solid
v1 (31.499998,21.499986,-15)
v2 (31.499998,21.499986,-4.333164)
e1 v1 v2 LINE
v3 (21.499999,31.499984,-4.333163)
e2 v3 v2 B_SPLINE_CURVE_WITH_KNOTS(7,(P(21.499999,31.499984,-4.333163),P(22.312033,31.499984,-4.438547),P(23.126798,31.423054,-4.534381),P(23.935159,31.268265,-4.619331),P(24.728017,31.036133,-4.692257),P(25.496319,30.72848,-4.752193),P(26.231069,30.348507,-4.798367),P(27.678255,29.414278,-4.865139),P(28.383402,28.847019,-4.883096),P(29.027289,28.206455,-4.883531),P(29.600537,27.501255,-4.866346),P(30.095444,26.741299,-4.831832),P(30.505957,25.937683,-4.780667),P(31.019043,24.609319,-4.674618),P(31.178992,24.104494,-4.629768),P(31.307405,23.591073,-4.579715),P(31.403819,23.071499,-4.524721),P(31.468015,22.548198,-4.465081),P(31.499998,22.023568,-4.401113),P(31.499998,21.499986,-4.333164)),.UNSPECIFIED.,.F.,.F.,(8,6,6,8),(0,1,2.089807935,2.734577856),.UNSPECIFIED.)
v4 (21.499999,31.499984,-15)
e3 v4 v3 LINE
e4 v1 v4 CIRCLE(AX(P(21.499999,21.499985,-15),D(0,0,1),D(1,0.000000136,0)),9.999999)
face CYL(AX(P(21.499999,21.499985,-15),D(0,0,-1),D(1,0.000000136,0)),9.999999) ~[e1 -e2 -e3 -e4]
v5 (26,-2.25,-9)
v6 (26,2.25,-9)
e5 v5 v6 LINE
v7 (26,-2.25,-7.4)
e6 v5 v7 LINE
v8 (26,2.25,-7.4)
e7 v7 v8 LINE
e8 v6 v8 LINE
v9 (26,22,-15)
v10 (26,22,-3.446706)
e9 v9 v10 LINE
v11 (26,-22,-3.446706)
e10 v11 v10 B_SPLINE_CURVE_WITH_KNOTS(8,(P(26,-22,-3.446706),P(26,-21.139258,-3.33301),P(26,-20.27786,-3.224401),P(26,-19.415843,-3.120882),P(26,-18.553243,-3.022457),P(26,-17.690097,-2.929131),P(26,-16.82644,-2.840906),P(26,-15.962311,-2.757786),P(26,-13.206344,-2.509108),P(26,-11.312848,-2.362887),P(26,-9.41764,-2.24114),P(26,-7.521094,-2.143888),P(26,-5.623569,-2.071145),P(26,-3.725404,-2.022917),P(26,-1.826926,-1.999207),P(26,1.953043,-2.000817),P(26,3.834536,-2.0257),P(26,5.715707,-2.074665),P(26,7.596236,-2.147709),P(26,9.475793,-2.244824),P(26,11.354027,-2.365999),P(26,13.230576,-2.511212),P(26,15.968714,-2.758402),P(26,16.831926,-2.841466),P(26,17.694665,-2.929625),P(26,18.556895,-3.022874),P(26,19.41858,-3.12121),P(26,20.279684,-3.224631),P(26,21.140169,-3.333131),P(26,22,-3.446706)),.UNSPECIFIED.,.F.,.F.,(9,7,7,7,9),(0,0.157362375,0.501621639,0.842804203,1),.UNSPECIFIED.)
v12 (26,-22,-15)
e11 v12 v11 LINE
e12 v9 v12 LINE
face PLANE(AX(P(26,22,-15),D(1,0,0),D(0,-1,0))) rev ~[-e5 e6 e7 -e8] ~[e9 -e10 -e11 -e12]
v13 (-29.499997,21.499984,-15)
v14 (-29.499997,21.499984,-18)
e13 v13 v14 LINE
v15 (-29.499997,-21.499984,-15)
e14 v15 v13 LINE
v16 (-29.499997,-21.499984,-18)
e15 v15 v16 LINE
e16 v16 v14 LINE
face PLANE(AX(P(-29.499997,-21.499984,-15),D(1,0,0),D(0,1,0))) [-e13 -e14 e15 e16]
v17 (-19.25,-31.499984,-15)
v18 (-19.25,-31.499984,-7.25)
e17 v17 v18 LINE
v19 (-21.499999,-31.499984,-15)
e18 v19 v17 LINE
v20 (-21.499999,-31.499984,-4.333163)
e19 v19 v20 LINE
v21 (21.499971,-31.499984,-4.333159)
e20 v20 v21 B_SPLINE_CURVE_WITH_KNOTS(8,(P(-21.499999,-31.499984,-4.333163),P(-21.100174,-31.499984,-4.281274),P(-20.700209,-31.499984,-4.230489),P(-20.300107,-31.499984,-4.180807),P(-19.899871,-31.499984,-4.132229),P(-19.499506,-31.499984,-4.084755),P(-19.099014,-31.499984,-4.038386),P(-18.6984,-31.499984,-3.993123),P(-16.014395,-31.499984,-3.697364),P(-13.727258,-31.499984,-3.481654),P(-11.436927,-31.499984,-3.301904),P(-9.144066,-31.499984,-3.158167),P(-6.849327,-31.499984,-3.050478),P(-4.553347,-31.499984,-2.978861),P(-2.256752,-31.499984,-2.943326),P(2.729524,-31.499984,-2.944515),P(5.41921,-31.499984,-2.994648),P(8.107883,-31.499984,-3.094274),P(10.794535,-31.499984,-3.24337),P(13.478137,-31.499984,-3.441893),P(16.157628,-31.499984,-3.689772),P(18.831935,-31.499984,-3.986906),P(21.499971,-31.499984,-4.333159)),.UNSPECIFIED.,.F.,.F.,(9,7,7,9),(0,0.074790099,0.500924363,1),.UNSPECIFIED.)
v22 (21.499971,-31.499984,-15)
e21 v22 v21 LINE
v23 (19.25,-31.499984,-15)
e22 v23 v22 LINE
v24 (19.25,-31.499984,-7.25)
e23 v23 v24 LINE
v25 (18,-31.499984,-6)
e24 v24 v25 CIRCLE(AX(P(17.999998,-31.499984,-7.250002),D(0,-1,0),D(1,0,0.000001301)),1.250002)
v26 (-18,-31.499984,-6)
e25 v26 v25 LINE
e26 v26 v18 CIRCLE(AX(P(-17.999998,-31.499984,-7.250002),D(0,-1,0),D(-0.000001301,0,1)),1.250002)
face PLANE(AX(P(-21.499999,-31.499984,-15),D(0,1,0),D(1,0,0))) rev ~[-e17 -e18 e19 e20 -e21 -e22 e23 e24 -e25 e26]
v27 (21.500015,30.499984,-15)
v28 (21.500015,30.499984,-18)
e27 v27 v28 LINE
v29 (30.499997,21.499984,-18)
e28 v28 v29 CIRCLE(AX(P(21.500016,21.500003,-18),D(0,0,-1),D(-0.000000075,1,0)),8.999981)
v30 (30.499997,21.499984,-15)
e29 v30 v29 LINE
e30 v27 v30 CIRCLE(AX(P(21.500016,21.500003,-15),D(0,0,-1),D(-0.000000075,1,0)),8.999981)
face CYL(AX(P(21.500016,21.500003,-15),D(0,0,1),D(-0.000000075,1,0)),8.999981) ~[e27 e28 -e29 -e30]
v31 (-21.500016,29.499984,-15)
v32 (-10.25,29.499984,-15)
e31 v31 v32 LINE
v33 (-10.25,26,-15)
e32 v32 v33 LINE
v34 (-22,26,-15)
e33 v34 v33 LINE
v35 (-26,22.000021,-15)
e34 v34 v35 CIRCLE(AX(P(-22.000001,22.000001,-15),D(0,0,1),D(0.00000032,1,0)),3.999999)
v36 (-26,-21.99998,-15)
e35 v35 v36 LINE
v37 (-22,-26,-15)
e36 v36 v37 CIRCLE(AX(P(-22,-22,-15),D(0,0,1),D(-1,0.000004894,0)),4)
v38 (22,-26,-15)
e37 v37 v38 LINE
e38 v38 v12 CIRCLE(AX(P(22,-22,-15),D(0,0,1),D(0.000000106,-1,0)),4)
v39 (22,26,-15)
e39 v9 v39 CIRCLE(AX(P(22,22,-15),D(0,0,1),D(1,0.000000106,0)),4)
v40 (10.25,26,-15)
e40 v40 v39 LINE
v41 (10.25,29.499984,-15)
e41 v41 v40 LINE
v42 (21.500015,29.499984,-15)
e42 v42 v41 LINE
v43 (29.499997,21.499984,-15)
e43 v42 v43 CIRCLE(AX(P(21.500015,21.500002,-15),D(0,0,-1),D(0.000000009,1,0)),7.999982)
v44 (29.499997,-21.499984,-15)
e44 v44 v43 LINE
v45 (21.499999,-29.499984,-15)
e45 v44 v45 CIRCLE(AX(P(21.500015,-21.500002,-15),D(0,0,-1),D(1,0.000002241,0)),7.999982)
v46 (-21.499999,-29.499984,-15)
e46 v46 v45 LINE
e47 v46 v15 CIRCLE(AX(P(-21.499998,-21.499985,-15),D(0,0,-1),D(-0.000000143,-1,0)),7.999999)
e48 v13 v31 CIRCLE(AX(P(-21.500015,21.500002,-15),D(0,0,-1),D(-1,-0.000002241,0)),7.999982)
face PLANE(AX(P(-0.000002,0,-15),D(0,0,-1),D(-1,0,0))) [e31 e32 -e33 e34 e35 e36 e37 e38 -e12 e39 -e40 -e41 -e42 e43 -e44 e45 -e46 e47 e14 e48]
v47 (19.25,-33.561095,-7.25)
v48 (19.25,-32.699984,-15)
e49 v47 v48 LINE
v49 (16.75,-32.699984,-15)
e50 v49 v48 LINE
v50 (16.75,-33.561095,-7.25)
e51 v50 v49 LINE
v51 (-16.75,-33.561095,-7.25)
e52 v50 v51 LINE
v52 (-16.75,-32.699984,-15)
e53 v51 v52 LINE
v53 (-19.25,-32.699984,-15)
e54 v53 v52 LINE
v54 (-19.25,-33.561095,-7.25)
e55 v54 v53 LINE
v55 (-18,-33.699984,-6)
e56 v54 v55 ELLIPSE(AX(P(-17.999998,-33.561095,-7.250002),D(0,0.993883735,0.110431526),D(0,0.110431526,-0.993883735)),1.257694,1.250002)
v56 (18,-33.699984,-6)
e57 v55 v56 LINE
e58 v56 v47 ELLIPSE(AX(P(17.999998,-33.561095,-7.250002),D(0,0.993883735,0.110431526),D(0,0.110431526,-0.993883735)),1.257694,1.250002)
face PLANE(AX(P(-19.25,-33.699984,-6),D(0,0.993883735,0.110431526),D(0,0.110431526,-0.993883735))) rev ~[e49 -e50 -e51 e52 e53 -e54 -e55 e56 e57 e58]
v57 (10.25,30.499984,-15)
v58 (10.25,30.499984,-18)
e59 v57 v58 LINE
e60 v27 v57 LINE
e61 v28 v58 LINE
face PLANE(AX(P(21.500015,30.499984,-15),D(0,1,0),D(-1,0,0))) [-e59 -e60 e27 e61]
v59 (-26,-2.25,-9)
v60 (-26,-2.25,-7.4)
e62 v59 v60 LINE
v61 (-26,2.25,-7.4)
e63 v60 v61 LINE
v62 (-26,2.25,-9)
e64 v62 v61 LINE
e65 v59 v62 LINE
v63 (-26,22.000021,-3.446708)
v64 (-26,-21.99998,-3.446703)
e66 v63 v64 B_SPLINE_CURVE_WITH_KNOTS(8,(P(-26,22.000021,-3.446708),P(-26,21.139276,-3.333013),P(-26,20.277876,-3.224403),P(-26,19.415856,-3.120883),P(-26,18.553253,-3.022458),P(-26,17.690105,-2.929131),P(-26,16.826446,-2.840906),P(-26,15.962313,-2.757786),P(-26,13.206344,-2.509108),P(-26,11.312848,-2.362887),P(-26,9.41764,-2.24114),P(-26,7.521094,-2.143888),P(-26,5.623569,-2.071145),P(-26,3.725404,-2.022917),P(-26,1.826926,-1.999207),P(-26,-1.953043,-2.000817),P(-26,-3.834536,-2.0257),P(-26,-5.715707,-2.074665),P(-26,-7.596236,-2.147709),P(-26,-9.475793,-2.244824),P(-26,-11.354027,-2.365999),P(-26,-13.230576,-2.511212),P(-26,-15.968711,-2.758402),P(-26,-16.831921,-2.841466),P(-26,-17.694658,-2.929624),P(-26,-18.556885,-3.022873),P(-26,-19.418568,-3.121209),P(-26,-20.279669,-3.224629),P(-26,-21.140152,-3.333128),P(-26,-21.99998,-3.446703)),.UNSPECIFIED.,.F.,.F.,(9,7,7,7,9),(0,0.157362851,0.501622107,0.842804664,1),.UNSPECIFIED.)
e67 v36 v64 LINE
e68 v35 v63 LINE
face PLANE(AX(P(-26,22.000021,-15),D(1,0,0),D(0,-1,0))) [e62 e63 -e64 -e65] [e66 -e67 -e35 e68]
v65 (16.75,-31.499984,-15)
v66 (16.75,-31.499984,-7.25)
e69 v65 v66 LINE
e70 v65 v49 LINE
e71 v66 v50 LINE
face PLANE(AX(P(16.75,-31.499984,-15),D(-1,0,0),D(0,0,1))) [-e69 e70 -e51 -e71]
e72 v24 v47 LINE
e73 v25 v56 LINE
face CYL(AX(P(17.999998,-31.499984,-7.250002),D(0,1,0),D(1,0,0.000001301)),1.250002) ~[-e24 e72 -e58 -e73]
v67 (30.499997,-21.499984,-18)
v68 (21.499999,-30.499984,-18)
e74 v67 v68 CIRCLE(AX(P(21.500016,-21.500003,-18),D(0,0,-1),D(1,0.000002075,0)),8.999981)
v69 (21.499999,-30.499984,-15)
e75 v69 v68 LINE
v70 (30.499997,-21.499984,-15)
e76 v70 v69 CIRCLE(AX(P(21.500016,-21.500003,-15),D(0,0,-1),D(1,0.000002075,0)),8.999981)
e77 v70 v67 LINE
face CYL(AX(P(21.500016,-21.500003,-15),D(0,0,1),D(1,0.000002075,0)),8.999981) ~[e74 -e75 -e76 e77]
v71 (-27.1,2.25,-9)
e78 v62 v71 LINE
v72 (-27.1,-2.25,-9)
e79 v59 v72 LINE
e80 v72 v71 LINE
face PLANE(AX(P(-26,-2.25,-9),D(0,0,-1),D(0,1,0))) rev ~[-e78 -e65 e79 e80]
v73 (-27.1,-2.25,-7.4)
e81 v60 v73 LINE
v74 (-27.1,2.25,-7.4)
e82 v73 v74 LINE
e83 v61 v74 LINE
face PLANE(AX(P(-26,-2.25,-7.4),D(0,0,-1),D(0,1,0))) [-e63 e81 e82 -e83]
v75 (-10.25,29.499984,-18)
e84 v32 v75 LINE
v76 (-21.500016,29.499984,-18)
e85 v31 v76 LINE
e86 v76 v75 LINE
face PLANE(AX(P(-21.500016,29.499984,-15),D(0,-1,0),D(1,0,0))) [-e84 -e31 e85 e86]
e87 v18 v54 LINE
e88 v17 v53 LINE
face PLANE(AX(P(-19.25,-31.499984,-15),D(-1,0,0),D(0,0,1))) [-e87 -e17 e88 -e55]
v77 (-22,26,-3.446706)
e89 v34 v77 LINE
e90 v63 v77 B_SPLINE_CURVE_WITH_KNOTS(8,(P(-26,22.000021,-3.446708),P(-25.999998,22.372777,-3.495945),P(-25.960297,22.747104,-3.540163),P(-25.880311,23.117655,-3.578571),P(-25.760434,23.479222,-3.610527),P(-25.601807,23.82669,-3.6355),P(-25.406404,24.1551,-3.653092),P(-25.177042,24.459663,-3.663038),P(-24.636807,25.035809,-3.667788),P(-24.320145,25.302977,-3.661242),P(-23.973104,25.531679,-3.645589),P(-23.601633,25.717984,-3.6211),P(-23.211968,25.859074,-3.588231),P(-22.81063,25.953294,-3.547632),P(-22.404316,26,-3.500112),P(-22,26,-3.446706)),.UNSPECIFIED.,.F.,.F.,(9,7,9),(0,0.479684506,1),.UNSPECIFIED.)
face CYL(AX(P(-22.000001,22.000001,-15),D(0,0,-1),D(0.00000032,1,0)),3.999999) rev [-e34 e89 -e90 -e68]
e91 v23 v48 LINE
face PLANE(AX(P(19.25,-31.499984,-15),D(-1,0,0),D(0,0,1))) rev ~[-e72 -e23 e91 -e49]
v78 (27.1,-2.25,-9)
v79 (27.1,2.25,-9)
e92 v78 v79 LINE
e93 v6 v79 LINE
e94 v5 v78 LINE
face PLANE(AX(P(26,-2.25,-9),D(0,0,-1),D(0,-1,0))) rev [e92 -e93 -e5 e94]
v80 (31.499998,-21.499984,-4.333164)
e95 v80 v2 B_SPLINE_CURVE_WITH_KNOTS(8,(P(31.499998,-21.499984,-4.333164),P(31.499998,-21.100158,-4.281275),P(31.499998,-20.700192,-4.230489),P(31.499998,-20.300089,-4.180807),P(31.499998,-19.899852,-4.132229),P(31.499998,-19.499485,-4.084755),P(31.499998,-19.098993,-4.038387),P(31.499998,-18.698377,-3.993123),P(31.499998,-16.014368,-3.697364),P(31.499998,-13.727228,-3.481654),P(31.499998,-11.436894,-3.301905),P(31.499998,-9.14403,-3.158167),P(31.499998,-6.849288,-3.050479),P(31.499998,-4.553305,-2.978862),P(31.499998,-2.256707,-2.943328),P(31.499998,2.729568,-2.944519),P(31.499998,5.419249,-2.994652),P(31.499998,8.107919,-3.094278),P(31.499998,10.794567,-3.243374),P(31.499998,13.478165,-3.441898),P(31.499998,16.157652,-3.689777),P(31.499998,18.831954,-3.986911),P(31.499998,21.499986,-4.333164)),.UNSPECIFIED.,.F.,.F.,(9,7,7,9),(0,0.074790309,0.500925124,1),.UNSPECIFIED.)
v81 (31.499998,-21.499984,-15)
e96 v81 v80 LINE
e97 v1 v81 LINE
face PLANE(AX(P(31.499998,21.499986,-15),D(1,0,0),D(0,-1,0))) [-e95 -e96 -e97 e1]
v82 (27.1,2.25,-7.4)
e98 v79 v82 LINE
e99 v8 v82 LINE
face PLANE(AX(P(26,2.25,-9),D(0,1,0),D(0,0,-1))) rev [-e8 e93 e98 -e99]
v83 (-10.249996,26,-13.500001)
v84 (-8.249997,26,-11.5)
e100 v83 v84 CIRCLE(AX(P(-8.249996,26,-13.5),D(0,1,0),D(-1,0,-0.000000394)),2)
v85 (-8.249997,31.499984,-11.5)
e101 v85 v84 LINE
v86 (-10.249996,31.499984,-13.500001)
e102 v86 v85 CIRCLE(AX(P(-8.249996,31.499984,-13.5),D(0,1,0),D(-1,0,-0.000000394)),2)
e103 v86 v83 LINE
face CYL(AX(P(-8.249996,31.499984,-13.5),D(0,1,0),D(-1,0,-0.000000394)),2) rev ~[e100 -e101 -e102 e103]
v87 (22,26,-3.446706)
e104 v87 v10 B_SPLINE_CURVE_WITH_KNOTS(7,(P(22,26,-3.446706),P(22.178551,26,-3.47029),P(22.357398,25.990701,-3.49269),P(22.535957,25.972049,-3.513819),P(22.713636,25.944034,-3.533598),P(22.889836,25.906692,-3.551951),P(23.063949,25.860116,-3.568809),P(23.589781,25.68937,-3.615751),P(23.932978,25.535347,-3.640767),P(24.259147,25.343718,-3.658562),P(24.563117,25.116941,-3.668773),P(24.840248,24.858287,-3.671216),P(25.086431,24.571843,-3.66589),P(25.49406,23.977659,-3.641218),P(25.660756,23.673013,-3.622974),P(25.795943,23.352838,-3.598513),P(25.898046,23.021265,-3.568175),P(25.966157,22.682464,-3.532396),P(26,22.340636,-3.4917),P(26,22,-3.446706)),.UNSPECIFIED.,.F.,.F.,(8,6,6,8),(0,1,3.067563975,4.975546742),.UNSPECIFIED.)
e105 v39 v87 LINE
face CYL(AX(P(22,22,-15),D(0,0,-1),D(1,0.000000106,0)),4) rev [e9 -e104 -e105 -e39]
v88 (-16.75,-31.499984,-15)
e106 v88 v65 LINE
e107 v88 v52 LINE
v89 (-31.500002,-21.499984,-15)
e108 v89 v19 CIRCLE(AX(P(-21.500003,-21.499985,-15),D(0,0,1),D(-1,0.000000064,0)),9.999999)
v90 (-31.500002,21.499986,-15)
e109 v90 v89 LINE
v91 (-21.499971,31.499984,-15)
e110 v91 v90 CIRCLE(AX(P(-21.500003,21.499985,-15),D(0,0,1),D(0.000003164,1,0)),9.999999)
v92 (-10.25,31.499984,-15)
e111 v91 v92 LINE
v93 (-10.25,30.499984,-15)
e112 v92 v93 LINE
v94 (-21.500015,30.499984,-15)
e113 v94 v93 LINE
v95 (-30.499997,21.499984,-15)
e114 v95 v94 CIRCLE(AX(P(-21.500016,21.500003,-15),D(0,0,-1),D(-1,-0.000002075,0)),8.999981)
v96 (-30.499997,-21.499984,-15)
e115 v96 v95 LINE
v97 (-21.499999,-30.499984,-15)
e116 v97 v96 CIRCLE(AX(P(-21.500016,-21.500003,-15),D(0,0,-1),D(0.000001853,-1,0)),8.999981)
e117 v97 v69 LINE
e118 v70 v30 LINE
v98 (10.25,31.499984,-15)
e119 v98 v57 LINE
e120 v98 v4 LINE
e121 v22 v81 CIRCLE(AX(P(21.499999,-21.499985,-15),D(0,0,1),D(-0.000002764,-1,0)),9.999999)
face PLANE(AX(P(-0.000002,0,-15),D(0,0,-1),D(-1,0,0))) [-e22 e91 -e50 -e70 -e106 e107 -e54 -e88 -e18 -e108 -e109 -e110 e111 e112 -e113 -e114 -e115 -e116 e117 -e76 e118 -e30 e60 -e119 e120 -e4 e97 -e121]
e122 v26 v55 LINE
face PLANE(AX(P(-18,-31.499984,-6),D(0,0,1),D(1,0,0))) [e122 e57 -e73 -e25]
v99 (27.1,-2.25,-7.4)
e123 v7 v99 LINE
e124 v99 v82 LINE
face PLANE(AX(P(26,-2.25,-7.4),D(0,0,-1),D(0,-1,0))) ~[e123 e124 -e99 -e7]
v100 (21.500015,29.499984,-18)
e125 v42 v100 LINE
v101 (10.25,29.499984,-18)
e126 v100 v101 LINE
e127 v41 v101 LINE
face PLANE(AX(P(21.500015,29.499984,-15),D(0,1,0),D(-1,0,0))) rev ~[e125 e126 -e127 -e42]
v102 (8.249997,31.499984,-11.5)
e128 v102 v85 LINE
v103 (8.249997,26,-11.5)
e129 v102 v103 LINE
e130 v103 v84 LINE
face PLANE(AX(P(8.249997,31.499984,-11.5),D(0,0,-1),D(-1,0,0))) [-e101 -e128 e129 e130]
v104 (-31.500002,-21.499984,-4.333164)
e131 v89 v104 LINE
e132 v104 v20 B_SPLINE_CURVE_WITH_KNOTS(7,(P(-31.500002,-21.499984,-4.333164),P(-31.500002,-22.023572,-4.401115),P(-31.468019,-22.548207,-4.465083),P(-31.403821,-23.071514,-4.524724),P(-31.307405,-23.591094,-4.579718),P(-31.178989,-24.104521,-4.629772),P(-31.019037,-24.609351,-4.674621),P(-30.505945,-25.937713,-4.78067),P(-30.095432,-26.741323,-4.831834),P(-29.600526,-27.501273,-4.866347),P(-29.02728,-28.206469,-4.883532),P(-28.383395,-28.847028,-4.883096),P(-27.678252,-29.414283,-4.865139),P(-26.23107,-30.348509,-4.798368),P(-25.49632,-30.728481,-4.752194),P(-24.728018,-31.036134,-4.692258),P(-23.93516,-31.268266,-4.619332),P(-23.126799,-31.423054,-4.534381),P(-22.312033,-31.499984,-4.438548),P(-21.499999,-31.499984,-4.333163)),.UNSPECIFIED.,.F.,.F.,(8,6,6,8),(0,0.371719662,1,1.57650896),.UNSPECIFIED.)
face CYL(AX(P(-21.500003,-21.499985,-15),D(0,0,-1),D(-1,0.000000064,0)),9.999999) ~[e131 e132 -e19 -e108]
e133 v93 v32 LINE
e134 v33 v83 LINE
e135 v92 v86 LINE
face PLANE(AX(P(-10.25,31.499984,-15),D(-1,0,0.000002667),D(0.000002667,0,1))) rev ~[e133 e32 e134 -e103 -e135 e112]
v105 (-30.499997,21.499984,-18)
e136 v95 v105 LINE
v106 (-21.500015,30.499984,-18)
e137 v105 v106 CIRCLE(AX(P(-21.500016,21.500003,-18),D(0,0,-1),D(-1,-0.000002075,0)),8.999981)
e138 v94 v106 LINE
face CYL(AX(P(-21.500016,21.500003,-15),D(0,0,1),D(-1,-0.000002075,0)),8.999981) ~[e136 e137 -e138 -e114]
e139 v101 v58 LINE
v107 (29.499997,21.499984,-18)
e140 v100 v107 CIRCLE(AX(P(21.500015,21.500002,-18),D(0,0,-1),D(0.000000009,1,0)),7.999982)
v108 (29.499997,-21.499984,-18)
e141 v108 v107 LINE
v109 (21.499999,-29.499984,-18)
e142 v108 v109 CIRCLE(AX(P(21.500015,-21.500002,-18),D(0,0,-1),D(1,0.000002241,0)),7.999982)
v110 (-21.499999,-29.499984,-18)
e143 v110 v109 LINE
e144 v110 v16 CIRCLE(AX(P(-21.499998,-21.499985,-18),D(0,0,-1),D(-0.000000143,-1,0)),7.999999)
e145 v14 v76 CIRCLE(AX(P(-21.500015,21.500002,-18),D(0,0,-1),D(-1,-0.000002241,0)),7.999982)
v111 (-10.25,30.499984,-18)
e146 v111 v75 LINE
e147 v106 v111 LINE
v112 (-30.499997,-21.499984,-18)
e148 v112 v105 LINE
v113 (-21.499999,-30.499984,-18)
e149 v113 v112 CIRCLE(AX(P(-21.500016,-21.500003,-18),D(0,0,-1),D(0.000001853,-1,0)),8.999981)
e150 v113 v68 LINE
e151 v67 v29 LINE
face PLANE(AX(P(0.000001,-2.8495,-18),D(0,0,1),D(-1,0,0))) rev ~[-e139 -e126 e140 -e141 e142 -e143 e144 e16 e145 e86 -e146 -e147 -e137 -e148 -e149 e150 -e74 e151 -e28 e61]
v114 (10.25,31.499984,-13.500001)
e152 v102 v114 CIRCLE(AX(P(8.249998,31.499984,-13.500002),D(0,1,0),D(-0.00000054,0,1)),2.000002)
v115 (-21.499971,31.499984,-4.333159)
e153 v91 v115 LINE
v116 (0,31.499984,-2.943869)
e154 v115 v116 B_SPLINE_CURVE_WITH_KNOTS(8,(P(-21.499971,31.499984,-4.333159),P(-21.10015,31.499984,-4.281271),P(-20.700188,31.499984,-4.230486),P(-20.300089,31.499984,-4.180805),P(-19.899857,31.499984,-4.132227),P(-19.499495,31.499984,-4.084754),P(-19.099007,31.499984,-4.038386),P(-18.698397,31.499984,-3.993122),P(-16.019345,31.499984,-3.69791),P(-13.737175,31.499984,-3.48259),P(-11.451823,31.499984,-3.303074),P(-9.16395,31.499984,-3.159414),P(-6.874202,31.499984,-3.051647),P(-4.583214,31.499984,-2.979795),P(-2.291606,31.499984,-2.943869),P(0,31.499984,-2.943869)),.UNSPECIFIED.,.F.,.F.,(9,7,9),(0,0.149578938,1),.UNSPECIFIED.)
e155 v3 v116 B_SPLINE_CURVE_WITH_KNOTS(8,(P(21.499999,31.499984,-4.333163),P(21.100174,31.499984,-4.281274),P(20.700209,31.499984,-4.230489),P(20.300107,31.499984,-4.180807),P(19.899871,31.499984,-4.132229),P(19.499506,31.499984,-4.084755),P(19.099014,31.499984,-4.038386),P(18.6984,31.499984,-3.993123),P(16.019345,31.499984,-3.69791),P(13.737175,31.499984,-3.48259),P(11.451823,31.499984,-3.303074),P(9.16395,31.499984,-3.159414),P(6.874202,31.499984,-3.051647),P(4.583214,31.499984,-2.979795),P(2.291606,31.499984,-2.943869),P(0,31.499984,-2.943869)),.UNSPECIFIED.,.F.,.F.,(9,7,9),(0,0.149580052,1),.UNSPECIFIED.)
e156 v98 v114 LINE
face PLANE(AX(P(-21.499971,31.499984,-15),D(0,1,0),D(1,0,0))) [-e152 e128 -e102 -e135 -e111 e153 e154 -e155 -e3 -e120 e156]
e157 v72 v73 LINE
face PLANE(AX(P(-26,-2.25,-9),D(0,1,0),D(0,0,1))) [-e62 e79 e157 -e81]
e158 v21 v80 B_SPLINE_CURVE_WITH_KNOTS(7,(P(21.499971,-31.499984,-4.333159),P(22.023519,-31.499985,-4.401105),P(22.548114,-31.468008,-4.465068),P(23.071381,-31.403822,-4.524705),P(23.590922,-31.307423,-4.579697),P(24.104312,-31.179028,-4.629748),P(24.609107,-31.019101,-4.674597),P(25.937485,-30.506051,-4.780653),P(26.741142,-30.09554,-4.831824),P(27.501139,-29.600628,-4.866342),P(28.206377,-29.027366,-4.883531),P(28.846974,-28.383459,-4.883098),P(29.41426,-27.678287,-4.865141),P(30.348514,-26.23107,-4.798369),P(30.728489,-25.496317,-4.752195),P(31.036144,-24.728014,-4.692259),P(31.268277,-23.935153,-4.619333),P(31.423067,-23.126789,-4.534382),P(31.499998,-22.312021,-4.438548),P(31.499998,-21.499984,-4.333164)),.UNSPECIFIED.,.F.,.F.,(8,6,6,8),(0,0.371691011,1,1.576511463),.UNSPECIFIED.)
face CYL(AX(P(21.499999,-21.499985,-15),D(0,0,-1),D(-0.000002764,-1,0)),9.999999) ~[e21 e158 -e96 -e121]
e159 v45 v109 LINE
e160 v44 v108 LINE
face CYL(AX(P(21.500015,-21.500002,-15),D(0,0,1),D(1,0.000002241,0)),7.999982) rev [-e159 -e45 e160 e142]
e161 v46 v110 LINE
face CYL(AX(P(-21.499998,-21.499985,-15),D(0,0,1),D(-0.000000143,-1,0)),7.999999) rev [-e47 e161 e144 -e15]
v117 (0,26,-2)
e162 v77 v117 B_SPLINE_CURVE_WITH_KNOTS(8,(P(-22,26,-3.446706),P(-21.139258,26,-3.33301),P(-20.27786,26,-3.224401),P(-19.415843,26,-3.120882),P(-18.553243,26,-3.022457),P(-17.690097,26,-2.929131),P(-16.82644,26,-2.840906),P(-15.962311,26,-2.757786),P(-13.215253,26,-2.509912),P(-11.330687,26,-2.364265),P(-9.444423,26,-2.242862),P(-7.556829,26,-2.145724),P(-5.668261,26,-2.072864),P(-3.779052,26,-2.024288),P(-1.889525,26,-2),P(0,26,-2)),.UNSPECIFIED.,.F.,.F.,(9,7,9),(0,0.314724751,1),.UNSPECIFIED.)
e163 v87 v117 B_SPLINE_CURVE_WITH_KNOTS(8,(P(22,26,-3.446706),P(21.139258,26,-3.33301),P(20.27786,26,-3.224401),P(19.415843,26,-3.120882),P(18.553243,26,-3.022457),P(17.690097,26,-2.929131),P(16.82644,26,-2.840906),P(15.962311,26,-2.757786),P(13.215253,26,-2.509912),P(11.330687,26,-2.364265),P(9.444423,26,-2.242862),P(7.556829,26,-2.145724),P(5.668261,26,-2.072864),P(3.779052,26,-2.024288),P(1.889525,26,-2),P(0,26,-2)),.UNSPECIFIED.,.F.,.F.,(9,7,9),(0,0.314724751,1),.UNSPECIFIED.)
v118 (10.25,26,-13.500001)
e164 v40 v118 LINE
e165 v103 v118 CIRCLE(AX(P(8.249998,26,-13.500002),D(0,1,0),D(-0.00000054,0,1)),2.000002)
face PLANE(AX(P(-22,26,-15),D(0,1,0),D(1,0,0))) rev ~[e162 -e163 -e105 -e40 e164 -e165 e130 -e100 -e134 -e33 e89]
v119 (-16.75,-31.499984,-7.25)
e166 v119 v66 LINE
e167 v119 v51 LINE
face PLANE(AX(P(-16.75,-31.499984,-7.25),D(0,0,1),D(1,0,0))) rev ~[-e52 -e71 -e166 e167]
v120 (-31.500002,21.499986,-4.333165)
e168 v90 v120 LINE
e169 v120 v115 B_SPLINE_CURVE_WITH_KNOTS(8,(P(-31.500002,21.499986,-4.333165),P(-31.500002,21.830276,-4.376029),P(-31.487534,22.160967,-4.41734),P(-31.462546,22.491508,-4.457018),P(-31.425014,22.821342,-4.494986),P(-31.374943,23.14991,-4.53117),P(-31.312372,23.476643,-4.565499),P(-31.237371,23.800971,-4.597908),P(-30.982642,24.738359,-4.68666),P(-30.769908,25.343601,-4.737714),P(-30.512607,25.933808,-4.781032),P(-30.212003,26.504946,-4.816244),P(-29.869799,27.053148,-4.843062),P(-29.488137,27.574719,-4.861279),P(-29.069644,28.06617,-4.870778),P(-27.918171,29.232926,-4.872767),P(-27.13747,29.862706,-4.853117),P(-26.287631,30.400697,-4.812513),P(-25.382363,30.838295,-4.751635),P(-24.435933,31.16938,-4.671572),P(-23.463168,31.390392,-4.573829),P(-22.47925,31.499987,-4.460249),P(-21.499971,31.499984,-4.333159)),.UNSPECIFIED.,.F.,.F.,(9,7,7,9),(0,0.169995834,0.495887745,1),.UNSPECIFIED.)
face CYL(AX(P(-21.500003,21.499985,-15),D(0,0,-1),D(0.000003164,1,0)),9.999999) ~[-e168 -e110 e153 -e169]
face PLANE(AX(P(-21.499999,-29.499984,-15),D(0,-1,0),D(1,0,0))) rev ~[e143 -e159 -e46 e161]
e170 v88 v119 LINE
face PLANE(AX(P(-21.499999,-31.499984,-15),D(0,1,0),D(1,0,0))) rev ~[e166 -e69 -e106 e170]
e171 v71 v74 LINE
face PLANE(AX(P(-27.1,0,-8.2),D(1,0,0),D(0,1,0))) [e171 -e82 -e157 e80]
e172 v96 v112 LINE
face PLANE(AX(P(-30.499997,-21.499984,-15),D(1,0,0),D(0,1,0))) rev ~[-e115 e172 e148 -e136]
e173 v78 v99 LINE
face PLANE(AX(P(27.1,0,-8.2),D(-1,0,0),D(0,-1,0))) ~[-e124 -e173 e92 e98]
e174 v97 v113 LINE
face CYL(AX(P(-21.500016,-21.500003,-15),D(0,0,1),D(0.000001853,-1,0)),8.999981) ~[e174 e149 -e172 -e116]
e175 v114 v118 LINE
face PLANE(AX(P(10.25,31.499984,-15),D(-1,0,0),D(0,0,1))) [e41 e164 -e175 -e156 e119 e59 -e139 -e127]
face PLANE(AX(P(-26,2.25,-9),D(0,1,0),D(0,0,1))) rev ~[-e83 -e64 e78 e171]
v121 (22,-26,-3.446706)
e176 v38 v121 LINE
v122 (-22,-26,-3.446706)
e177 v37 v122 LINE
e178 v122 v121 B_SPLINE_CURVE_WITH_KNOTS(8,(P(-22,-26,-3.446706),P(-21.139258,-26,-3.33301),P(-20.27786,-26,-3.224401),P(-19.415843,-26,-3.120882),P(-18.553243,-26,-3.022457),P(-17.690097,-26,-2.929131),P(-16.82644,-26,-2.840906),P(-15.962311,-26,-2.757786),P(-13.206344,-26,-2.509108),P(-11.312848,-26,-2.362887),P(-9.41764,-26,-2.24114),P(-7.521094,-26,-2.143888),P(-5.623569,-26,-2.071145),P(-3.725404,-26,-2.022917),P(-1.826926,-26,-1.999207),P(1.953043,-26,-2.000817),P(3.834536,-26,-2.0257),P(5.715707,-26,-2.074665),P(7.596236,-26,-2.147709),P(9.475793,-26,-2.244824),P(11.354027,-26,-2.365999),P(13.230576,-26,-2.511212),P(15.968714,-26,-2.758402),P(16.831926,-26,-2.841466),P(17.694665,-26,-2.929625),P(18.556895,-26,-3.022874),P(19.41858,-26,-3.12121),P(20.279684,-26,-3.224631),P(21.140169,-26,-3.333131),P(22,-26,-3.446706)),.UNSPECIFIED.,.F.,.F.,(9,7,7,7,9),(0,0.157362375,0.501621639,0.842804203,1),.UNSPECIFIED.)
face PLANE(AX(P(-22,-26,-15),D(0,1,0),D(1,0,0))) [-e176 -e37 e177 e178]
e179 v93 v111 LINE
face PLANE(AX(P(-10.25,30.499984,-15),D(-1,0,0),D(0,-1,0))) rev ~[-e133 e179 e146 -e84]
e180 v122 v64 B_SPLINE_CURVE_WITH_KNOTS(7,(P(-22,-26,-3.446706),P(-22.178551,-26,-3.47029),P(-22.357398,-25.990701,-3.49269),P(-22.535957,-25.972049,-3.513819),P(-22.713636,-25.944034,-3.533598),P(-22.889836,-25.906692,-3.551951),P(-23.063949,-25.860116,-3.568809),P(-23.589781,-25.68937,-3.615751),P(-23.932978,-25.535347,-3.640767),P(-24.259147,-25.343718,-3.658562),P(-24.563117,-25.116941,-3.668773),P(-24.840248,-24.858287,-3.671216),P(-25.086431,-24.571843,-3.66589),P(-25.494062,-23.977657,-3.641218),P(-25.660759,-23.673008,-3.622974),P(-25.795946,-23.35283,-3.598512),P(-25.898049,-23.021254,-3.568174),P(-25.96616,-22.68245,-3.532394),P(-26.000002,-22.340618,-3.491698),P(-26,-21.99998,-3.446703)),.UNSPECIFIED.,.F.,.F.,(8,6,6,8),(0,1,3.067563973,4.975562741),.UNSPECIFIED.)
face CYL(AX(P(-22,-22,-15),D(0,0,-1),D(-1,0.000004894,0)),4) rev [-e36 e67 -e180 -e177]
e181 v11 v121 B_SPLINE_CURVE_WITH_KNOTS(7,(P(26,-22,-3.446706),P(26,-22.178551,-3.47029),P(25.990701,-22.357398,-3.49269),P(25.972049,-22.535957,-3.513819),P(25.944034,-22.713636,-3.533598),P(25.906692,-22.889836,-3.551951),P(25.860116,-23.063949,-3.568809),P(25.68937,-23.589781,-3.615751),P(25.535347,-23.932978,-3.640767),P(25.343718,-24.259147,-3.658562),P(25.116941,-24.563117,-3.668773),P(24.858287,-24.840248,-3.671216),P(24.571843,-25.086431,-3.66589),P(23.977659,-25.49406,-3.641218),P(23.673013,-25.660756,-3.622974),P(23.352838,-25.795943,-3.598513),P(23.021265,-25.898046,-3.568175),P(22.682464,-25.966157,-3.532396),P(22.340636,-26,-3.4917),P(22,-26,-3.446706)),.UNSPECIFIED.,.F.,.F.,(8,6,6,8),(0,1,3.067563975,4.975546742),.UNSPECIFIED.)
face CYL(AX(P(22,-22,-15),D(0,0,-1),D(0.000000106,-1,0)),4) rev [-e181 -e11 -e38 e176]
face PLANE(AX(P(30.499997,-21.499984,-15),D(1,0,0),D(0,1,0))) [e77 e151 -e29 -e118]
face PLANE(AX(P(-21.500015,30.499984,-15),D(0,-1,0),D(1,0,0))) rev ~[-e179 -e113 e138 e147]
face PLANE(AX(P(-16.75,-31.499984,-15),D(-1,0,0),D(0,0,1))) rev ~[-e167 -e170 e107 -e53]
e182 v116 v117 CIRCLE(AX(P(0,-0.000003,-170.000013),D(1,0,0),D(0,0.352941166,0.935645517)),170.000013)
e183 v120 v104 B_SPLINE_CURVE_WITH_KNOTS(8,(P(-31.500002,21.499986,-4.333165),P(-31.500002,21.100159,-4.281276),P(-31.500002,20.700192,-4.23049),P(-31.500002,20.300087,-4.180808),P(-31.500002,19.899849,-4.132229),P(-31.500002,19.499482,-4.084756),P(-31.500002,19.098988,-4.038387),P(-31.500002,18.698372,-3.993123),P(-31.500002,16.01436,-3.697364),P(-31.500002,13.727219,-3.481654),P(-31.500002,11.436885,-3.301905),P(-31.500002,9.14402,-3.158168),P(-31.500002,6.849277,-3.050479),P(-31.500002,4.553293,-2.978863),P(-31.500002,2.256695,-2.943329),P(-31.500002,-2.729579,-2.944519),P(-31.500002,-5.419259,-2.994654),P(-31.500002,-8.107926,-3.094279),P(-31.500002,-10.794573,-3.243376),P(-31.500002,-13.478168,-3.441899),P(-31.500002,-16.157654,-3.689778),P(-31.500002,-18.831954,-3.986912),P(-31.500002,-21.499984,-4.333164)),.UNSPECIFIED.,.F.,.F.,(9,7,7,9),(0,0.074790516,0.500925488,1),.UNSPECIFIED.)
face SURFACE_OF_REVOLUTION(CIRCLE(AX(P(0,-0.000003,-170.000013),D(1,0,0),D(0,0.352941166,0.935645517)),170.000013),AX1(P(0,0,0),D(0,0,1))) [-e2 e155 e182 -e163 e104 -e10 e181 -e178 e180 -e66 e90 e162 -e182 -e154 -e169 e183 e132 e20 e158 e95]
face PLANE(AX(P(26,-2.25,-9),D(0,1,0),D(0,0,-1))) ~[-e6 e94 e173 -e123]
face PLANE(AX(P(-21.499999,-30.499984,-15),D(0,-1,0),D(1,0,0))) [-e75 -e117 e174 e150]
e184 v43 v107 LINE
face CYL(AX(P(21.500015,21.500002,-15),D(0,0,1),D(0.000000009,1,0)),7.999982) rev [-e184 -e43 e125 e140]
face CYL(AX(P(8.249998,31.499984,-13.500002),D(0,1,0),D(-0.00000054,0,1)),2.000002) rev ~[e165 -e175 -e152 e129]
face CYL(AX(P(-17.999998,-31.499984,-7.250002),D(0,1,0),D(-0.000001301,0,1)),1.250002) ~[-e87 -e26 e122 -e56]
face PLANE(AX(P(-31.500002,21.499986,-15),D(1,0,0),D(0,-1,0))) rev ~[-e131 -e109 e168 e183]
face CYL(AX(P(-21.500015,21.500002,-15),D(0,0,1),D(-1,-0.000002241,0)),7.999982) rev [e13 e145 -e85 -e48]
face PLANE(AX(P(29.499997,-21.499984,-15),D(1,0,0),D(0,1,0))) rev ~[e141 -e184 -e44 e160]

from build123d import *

# Parameters (mm, degrees)
PAD_DEPTH       = 15
SKETCH_W        = 4.5
SKETCH_H        = 1.6
POCKET_DEPTH    = 1.1
POCKET001_DEPTH = 5.499984
PAD001_DEPTH    = 5
POCKET002_DEPTH = 50.750998
PAD002_DEPTH    = 3


with BuildPart() as limit_walls:
    # Sketch002 → Revolution001 (revolve)
    with BuildSketch(Plane.YZ):
        with BuildLine():
            ThreePointArc((60, -10.940263), (30.494628, -2.757429), (0, 0))
            Line((0, 10), (0, 0))
            ThreePointArc((63.529412, -1.583808), (32.28843, 7.08037), (0, 10))
            Line((63.529412, -1.583808), (60, -10.940263))
        make_face()
    revolve(axis=Axis((0, 0, 0), (0, 0, 1)))


with BuildPart() as cut:
    # Sketch001 → Pad (new body)
    with BuildSketch(Plane.XY.offset(-15)):
        with BuildLine():
            Line((-21.499971, 31.499984), (21.499999, 31.499984))
            ThreePointArc((31.499998, 21.499986), (28.571066, 28.571052), (21.499999, 31.499984))
            Line((31.499998, 21.499986), (31.499998, -21.499984))
            ThreePointArc((21.499971, -31.499984), (28.571056, -28.571062), (31.499998, -21.499984))
            Line((-21.499999, -31.499984), (21.499971, -31.499984))
            ThreePointArc((-31.500002, -21.499984), (-28.571069, -28.571053), (-21.499999, -31.499984))
            Line((-31.500002, 21.499986), (-31.500002, -21.499984))
            ThreePointArc((-21.499971, 31.499984), (-28.571058, 28.571064), (-31.500002, 21.499986))
        make_face()
        with BuildLine():
            Line((-22, 26), (22, 26))
            ThreePointArc((26, 22), (24.828427, 24.828427), (22, 26))
            Line((26, 22), (26, -22))
            ThreePointArc((22, -26), (24.828427, -24.828427), (26, -22))
            Line((-22, -26), (22, -26))
            ThreePointArc((-26, -21.99998), (-24.828434, -24.82842), (-22, -26))
            Line((-26, 22.000021), (-26, -21.99998))
            ThreePointArc((-22, 26), (-24.82842, 24.828435), (-26, 22.000021))
        make_face(mode=Mode.SUBTRACT)
    extrude(amount=PAD_DEPTH)

    # Sketch (on Face9 of Pad) → Pocket (cut)
    with BuildSketch(Plane.YZ.offset(-26)):
        with Locations((0, -8.2)):
            Rectangle(SKETCH_W, SKETCH_H)
    pocket = extrude(amount=-POCKET_DEPTH, mode=Mode.SUBTRACT)

    # Mirrored: Pocket across YZ
    add(pocket.mirror(Plane.YZ), mode=Mode.SUBTRACT)

    # Sketch003 (on Face2 of Mirrored) → Pocket001 (cut)
    with BuildSketch(Plane(origin=(0, 31.499984, 0), x_dir=(-1, 0, 0), z_dir=(0, 1, 0))):
        with BuildLine():
            Line((-10.25, -15), (-10.25, -13.500001))
            ThreePointArc((-8.249997, -11.5), (-9.664212, -12.085786), (-10.25, -13.500001))
            Line((-8.249997, -11.5), (8.249997, -11.5))
            ThreePointArc((10.249996, -13.500001), (9.66421, -12.085787), (8.249997, -11.5))
            Line((10.25, -15), (10.249996, -13.500001))
            Line((-10.25, -15), (10.25, -15))
        make_face()
    extrude(amount=-POCKET001_DEPTH, mode=Mode.SUBTRACT)

    # Sketch004 (on Face13 of Pocket001) → Pad001 (join)
    with BuildSketch(Plane.XZ.offset(31.499984)):
        with BuildLine():
            Line((-19.25, -15), (-19.25, -7.25))
            ThreePointArc((-18, -6), (-18.883883, -6.366117), (-19.25, -7.25))
            Line((-18, -6), (18, -6))
            ThreePointArc((19.25, -7.25), (18.883883, -6.366117), (18, -6))
            Line((19.25, -15), (19.25, -7.25))
            Line((16.75, -15), (19.25, -15))
            Line((16.75, -15), (16.75, -7.25))
            Line((-16.75, -7.25), (16.75, -7.25))
            Line((-16.75, -15), (-16.75, -7.25))
            Line((-19.25, -15), (-16.75, -15))
        make_face()
    extrude(amount=PAD001_DEPTH)

    # Sketch005 (on Face27 of Pad001) → Pocket002 (cut, through all)
    with BuildSketch(Plane(origin=(-19.25, 0, 0), x_dir=(0, -1, 0), z_dir=(-1, 0, 0))):
        Polygon((33.699984, -6), (32.699984, -15), (36.499984, -15), (36.499984, -6), align=None)
    extrude(amount=-POCKET002_DEPTH, mode=Mode.SUBTRACT)

    # Sketch006 (on Face4 of Pocket002) → Pad002 (join)
    with BuildSketch(Plane(origin=(0, 0, -15), x_dir=(1, 0, 0), z_dir=(0, 0, -1))):
        with BuildLine():
            Line((-21.499999, 30.499984), (21.499999, 30.499984))
            ThreePointArc((30.499997, 21.499984), (27.863964, 27.86395), (21.499999, 30.499984))
            Line((30.499997, 21.499984), (30.499997, -21.499984))
            ThreePointArc((21.500015, -30.499984), (27.86397, -27.863944), (30.499997, -21.499984))
            Line((21.500015, -30.499984), (10.25, -30.499984))
            Line((10.25, -29.499984), (10.25, -30.499984))
            Line((21.500015, -29.499984), (10.25, -29.499984))
            ThreePointArc((21.500015, -29.499984), (27.156863, -27.156837), (29.499997, -21.499984))
            Line((29.499997, 21.499984), (29.499997, -21.499984))
            ThreePointArc((29.499997, 21.499984), (27.156857, 27.156843), (21.499999, 29.499984))
            Line((-21.499999, 29.499984), (21.499999, 29.499984))
            ThreePointArc((-21.499999, 29.499984), (-27.156852, 27.156838), (-29.499997, 21.499984))
            Line((-29.499997, 21.499984), (-29.499997, -21.499984))
            ThreePointArc((-29.499997, -21.499984), (-27.156863, -27.156837), (-21.500016, -29.499984))
            Line((-21.500016, -29.499984), (-10.25, -29.499984))
            Line((-10.25, -30.499984), (-10.25, -29.499984))
            Line((-21.500015, -30.499984), (-10.25, -30.499984))
            ThreePointArc((-30.499997, -21.499984), (-27.86397, -27.863944), (-21.500015, -30.499984))
            Line((-30.499997, 21.499984), (-30.499997, -21.499984))
            ThreePointArc((-21.499999, 30.499984), (-27.863964, 27.86395), (-30.499997, 21.499984))
        make_face()
    extrude(amount=PAD002_DEPTH)

    # Cut: cut limit_walls
    add(limit_walls.part, mode=Mode.SUBTRACT)


solid = cut.part
